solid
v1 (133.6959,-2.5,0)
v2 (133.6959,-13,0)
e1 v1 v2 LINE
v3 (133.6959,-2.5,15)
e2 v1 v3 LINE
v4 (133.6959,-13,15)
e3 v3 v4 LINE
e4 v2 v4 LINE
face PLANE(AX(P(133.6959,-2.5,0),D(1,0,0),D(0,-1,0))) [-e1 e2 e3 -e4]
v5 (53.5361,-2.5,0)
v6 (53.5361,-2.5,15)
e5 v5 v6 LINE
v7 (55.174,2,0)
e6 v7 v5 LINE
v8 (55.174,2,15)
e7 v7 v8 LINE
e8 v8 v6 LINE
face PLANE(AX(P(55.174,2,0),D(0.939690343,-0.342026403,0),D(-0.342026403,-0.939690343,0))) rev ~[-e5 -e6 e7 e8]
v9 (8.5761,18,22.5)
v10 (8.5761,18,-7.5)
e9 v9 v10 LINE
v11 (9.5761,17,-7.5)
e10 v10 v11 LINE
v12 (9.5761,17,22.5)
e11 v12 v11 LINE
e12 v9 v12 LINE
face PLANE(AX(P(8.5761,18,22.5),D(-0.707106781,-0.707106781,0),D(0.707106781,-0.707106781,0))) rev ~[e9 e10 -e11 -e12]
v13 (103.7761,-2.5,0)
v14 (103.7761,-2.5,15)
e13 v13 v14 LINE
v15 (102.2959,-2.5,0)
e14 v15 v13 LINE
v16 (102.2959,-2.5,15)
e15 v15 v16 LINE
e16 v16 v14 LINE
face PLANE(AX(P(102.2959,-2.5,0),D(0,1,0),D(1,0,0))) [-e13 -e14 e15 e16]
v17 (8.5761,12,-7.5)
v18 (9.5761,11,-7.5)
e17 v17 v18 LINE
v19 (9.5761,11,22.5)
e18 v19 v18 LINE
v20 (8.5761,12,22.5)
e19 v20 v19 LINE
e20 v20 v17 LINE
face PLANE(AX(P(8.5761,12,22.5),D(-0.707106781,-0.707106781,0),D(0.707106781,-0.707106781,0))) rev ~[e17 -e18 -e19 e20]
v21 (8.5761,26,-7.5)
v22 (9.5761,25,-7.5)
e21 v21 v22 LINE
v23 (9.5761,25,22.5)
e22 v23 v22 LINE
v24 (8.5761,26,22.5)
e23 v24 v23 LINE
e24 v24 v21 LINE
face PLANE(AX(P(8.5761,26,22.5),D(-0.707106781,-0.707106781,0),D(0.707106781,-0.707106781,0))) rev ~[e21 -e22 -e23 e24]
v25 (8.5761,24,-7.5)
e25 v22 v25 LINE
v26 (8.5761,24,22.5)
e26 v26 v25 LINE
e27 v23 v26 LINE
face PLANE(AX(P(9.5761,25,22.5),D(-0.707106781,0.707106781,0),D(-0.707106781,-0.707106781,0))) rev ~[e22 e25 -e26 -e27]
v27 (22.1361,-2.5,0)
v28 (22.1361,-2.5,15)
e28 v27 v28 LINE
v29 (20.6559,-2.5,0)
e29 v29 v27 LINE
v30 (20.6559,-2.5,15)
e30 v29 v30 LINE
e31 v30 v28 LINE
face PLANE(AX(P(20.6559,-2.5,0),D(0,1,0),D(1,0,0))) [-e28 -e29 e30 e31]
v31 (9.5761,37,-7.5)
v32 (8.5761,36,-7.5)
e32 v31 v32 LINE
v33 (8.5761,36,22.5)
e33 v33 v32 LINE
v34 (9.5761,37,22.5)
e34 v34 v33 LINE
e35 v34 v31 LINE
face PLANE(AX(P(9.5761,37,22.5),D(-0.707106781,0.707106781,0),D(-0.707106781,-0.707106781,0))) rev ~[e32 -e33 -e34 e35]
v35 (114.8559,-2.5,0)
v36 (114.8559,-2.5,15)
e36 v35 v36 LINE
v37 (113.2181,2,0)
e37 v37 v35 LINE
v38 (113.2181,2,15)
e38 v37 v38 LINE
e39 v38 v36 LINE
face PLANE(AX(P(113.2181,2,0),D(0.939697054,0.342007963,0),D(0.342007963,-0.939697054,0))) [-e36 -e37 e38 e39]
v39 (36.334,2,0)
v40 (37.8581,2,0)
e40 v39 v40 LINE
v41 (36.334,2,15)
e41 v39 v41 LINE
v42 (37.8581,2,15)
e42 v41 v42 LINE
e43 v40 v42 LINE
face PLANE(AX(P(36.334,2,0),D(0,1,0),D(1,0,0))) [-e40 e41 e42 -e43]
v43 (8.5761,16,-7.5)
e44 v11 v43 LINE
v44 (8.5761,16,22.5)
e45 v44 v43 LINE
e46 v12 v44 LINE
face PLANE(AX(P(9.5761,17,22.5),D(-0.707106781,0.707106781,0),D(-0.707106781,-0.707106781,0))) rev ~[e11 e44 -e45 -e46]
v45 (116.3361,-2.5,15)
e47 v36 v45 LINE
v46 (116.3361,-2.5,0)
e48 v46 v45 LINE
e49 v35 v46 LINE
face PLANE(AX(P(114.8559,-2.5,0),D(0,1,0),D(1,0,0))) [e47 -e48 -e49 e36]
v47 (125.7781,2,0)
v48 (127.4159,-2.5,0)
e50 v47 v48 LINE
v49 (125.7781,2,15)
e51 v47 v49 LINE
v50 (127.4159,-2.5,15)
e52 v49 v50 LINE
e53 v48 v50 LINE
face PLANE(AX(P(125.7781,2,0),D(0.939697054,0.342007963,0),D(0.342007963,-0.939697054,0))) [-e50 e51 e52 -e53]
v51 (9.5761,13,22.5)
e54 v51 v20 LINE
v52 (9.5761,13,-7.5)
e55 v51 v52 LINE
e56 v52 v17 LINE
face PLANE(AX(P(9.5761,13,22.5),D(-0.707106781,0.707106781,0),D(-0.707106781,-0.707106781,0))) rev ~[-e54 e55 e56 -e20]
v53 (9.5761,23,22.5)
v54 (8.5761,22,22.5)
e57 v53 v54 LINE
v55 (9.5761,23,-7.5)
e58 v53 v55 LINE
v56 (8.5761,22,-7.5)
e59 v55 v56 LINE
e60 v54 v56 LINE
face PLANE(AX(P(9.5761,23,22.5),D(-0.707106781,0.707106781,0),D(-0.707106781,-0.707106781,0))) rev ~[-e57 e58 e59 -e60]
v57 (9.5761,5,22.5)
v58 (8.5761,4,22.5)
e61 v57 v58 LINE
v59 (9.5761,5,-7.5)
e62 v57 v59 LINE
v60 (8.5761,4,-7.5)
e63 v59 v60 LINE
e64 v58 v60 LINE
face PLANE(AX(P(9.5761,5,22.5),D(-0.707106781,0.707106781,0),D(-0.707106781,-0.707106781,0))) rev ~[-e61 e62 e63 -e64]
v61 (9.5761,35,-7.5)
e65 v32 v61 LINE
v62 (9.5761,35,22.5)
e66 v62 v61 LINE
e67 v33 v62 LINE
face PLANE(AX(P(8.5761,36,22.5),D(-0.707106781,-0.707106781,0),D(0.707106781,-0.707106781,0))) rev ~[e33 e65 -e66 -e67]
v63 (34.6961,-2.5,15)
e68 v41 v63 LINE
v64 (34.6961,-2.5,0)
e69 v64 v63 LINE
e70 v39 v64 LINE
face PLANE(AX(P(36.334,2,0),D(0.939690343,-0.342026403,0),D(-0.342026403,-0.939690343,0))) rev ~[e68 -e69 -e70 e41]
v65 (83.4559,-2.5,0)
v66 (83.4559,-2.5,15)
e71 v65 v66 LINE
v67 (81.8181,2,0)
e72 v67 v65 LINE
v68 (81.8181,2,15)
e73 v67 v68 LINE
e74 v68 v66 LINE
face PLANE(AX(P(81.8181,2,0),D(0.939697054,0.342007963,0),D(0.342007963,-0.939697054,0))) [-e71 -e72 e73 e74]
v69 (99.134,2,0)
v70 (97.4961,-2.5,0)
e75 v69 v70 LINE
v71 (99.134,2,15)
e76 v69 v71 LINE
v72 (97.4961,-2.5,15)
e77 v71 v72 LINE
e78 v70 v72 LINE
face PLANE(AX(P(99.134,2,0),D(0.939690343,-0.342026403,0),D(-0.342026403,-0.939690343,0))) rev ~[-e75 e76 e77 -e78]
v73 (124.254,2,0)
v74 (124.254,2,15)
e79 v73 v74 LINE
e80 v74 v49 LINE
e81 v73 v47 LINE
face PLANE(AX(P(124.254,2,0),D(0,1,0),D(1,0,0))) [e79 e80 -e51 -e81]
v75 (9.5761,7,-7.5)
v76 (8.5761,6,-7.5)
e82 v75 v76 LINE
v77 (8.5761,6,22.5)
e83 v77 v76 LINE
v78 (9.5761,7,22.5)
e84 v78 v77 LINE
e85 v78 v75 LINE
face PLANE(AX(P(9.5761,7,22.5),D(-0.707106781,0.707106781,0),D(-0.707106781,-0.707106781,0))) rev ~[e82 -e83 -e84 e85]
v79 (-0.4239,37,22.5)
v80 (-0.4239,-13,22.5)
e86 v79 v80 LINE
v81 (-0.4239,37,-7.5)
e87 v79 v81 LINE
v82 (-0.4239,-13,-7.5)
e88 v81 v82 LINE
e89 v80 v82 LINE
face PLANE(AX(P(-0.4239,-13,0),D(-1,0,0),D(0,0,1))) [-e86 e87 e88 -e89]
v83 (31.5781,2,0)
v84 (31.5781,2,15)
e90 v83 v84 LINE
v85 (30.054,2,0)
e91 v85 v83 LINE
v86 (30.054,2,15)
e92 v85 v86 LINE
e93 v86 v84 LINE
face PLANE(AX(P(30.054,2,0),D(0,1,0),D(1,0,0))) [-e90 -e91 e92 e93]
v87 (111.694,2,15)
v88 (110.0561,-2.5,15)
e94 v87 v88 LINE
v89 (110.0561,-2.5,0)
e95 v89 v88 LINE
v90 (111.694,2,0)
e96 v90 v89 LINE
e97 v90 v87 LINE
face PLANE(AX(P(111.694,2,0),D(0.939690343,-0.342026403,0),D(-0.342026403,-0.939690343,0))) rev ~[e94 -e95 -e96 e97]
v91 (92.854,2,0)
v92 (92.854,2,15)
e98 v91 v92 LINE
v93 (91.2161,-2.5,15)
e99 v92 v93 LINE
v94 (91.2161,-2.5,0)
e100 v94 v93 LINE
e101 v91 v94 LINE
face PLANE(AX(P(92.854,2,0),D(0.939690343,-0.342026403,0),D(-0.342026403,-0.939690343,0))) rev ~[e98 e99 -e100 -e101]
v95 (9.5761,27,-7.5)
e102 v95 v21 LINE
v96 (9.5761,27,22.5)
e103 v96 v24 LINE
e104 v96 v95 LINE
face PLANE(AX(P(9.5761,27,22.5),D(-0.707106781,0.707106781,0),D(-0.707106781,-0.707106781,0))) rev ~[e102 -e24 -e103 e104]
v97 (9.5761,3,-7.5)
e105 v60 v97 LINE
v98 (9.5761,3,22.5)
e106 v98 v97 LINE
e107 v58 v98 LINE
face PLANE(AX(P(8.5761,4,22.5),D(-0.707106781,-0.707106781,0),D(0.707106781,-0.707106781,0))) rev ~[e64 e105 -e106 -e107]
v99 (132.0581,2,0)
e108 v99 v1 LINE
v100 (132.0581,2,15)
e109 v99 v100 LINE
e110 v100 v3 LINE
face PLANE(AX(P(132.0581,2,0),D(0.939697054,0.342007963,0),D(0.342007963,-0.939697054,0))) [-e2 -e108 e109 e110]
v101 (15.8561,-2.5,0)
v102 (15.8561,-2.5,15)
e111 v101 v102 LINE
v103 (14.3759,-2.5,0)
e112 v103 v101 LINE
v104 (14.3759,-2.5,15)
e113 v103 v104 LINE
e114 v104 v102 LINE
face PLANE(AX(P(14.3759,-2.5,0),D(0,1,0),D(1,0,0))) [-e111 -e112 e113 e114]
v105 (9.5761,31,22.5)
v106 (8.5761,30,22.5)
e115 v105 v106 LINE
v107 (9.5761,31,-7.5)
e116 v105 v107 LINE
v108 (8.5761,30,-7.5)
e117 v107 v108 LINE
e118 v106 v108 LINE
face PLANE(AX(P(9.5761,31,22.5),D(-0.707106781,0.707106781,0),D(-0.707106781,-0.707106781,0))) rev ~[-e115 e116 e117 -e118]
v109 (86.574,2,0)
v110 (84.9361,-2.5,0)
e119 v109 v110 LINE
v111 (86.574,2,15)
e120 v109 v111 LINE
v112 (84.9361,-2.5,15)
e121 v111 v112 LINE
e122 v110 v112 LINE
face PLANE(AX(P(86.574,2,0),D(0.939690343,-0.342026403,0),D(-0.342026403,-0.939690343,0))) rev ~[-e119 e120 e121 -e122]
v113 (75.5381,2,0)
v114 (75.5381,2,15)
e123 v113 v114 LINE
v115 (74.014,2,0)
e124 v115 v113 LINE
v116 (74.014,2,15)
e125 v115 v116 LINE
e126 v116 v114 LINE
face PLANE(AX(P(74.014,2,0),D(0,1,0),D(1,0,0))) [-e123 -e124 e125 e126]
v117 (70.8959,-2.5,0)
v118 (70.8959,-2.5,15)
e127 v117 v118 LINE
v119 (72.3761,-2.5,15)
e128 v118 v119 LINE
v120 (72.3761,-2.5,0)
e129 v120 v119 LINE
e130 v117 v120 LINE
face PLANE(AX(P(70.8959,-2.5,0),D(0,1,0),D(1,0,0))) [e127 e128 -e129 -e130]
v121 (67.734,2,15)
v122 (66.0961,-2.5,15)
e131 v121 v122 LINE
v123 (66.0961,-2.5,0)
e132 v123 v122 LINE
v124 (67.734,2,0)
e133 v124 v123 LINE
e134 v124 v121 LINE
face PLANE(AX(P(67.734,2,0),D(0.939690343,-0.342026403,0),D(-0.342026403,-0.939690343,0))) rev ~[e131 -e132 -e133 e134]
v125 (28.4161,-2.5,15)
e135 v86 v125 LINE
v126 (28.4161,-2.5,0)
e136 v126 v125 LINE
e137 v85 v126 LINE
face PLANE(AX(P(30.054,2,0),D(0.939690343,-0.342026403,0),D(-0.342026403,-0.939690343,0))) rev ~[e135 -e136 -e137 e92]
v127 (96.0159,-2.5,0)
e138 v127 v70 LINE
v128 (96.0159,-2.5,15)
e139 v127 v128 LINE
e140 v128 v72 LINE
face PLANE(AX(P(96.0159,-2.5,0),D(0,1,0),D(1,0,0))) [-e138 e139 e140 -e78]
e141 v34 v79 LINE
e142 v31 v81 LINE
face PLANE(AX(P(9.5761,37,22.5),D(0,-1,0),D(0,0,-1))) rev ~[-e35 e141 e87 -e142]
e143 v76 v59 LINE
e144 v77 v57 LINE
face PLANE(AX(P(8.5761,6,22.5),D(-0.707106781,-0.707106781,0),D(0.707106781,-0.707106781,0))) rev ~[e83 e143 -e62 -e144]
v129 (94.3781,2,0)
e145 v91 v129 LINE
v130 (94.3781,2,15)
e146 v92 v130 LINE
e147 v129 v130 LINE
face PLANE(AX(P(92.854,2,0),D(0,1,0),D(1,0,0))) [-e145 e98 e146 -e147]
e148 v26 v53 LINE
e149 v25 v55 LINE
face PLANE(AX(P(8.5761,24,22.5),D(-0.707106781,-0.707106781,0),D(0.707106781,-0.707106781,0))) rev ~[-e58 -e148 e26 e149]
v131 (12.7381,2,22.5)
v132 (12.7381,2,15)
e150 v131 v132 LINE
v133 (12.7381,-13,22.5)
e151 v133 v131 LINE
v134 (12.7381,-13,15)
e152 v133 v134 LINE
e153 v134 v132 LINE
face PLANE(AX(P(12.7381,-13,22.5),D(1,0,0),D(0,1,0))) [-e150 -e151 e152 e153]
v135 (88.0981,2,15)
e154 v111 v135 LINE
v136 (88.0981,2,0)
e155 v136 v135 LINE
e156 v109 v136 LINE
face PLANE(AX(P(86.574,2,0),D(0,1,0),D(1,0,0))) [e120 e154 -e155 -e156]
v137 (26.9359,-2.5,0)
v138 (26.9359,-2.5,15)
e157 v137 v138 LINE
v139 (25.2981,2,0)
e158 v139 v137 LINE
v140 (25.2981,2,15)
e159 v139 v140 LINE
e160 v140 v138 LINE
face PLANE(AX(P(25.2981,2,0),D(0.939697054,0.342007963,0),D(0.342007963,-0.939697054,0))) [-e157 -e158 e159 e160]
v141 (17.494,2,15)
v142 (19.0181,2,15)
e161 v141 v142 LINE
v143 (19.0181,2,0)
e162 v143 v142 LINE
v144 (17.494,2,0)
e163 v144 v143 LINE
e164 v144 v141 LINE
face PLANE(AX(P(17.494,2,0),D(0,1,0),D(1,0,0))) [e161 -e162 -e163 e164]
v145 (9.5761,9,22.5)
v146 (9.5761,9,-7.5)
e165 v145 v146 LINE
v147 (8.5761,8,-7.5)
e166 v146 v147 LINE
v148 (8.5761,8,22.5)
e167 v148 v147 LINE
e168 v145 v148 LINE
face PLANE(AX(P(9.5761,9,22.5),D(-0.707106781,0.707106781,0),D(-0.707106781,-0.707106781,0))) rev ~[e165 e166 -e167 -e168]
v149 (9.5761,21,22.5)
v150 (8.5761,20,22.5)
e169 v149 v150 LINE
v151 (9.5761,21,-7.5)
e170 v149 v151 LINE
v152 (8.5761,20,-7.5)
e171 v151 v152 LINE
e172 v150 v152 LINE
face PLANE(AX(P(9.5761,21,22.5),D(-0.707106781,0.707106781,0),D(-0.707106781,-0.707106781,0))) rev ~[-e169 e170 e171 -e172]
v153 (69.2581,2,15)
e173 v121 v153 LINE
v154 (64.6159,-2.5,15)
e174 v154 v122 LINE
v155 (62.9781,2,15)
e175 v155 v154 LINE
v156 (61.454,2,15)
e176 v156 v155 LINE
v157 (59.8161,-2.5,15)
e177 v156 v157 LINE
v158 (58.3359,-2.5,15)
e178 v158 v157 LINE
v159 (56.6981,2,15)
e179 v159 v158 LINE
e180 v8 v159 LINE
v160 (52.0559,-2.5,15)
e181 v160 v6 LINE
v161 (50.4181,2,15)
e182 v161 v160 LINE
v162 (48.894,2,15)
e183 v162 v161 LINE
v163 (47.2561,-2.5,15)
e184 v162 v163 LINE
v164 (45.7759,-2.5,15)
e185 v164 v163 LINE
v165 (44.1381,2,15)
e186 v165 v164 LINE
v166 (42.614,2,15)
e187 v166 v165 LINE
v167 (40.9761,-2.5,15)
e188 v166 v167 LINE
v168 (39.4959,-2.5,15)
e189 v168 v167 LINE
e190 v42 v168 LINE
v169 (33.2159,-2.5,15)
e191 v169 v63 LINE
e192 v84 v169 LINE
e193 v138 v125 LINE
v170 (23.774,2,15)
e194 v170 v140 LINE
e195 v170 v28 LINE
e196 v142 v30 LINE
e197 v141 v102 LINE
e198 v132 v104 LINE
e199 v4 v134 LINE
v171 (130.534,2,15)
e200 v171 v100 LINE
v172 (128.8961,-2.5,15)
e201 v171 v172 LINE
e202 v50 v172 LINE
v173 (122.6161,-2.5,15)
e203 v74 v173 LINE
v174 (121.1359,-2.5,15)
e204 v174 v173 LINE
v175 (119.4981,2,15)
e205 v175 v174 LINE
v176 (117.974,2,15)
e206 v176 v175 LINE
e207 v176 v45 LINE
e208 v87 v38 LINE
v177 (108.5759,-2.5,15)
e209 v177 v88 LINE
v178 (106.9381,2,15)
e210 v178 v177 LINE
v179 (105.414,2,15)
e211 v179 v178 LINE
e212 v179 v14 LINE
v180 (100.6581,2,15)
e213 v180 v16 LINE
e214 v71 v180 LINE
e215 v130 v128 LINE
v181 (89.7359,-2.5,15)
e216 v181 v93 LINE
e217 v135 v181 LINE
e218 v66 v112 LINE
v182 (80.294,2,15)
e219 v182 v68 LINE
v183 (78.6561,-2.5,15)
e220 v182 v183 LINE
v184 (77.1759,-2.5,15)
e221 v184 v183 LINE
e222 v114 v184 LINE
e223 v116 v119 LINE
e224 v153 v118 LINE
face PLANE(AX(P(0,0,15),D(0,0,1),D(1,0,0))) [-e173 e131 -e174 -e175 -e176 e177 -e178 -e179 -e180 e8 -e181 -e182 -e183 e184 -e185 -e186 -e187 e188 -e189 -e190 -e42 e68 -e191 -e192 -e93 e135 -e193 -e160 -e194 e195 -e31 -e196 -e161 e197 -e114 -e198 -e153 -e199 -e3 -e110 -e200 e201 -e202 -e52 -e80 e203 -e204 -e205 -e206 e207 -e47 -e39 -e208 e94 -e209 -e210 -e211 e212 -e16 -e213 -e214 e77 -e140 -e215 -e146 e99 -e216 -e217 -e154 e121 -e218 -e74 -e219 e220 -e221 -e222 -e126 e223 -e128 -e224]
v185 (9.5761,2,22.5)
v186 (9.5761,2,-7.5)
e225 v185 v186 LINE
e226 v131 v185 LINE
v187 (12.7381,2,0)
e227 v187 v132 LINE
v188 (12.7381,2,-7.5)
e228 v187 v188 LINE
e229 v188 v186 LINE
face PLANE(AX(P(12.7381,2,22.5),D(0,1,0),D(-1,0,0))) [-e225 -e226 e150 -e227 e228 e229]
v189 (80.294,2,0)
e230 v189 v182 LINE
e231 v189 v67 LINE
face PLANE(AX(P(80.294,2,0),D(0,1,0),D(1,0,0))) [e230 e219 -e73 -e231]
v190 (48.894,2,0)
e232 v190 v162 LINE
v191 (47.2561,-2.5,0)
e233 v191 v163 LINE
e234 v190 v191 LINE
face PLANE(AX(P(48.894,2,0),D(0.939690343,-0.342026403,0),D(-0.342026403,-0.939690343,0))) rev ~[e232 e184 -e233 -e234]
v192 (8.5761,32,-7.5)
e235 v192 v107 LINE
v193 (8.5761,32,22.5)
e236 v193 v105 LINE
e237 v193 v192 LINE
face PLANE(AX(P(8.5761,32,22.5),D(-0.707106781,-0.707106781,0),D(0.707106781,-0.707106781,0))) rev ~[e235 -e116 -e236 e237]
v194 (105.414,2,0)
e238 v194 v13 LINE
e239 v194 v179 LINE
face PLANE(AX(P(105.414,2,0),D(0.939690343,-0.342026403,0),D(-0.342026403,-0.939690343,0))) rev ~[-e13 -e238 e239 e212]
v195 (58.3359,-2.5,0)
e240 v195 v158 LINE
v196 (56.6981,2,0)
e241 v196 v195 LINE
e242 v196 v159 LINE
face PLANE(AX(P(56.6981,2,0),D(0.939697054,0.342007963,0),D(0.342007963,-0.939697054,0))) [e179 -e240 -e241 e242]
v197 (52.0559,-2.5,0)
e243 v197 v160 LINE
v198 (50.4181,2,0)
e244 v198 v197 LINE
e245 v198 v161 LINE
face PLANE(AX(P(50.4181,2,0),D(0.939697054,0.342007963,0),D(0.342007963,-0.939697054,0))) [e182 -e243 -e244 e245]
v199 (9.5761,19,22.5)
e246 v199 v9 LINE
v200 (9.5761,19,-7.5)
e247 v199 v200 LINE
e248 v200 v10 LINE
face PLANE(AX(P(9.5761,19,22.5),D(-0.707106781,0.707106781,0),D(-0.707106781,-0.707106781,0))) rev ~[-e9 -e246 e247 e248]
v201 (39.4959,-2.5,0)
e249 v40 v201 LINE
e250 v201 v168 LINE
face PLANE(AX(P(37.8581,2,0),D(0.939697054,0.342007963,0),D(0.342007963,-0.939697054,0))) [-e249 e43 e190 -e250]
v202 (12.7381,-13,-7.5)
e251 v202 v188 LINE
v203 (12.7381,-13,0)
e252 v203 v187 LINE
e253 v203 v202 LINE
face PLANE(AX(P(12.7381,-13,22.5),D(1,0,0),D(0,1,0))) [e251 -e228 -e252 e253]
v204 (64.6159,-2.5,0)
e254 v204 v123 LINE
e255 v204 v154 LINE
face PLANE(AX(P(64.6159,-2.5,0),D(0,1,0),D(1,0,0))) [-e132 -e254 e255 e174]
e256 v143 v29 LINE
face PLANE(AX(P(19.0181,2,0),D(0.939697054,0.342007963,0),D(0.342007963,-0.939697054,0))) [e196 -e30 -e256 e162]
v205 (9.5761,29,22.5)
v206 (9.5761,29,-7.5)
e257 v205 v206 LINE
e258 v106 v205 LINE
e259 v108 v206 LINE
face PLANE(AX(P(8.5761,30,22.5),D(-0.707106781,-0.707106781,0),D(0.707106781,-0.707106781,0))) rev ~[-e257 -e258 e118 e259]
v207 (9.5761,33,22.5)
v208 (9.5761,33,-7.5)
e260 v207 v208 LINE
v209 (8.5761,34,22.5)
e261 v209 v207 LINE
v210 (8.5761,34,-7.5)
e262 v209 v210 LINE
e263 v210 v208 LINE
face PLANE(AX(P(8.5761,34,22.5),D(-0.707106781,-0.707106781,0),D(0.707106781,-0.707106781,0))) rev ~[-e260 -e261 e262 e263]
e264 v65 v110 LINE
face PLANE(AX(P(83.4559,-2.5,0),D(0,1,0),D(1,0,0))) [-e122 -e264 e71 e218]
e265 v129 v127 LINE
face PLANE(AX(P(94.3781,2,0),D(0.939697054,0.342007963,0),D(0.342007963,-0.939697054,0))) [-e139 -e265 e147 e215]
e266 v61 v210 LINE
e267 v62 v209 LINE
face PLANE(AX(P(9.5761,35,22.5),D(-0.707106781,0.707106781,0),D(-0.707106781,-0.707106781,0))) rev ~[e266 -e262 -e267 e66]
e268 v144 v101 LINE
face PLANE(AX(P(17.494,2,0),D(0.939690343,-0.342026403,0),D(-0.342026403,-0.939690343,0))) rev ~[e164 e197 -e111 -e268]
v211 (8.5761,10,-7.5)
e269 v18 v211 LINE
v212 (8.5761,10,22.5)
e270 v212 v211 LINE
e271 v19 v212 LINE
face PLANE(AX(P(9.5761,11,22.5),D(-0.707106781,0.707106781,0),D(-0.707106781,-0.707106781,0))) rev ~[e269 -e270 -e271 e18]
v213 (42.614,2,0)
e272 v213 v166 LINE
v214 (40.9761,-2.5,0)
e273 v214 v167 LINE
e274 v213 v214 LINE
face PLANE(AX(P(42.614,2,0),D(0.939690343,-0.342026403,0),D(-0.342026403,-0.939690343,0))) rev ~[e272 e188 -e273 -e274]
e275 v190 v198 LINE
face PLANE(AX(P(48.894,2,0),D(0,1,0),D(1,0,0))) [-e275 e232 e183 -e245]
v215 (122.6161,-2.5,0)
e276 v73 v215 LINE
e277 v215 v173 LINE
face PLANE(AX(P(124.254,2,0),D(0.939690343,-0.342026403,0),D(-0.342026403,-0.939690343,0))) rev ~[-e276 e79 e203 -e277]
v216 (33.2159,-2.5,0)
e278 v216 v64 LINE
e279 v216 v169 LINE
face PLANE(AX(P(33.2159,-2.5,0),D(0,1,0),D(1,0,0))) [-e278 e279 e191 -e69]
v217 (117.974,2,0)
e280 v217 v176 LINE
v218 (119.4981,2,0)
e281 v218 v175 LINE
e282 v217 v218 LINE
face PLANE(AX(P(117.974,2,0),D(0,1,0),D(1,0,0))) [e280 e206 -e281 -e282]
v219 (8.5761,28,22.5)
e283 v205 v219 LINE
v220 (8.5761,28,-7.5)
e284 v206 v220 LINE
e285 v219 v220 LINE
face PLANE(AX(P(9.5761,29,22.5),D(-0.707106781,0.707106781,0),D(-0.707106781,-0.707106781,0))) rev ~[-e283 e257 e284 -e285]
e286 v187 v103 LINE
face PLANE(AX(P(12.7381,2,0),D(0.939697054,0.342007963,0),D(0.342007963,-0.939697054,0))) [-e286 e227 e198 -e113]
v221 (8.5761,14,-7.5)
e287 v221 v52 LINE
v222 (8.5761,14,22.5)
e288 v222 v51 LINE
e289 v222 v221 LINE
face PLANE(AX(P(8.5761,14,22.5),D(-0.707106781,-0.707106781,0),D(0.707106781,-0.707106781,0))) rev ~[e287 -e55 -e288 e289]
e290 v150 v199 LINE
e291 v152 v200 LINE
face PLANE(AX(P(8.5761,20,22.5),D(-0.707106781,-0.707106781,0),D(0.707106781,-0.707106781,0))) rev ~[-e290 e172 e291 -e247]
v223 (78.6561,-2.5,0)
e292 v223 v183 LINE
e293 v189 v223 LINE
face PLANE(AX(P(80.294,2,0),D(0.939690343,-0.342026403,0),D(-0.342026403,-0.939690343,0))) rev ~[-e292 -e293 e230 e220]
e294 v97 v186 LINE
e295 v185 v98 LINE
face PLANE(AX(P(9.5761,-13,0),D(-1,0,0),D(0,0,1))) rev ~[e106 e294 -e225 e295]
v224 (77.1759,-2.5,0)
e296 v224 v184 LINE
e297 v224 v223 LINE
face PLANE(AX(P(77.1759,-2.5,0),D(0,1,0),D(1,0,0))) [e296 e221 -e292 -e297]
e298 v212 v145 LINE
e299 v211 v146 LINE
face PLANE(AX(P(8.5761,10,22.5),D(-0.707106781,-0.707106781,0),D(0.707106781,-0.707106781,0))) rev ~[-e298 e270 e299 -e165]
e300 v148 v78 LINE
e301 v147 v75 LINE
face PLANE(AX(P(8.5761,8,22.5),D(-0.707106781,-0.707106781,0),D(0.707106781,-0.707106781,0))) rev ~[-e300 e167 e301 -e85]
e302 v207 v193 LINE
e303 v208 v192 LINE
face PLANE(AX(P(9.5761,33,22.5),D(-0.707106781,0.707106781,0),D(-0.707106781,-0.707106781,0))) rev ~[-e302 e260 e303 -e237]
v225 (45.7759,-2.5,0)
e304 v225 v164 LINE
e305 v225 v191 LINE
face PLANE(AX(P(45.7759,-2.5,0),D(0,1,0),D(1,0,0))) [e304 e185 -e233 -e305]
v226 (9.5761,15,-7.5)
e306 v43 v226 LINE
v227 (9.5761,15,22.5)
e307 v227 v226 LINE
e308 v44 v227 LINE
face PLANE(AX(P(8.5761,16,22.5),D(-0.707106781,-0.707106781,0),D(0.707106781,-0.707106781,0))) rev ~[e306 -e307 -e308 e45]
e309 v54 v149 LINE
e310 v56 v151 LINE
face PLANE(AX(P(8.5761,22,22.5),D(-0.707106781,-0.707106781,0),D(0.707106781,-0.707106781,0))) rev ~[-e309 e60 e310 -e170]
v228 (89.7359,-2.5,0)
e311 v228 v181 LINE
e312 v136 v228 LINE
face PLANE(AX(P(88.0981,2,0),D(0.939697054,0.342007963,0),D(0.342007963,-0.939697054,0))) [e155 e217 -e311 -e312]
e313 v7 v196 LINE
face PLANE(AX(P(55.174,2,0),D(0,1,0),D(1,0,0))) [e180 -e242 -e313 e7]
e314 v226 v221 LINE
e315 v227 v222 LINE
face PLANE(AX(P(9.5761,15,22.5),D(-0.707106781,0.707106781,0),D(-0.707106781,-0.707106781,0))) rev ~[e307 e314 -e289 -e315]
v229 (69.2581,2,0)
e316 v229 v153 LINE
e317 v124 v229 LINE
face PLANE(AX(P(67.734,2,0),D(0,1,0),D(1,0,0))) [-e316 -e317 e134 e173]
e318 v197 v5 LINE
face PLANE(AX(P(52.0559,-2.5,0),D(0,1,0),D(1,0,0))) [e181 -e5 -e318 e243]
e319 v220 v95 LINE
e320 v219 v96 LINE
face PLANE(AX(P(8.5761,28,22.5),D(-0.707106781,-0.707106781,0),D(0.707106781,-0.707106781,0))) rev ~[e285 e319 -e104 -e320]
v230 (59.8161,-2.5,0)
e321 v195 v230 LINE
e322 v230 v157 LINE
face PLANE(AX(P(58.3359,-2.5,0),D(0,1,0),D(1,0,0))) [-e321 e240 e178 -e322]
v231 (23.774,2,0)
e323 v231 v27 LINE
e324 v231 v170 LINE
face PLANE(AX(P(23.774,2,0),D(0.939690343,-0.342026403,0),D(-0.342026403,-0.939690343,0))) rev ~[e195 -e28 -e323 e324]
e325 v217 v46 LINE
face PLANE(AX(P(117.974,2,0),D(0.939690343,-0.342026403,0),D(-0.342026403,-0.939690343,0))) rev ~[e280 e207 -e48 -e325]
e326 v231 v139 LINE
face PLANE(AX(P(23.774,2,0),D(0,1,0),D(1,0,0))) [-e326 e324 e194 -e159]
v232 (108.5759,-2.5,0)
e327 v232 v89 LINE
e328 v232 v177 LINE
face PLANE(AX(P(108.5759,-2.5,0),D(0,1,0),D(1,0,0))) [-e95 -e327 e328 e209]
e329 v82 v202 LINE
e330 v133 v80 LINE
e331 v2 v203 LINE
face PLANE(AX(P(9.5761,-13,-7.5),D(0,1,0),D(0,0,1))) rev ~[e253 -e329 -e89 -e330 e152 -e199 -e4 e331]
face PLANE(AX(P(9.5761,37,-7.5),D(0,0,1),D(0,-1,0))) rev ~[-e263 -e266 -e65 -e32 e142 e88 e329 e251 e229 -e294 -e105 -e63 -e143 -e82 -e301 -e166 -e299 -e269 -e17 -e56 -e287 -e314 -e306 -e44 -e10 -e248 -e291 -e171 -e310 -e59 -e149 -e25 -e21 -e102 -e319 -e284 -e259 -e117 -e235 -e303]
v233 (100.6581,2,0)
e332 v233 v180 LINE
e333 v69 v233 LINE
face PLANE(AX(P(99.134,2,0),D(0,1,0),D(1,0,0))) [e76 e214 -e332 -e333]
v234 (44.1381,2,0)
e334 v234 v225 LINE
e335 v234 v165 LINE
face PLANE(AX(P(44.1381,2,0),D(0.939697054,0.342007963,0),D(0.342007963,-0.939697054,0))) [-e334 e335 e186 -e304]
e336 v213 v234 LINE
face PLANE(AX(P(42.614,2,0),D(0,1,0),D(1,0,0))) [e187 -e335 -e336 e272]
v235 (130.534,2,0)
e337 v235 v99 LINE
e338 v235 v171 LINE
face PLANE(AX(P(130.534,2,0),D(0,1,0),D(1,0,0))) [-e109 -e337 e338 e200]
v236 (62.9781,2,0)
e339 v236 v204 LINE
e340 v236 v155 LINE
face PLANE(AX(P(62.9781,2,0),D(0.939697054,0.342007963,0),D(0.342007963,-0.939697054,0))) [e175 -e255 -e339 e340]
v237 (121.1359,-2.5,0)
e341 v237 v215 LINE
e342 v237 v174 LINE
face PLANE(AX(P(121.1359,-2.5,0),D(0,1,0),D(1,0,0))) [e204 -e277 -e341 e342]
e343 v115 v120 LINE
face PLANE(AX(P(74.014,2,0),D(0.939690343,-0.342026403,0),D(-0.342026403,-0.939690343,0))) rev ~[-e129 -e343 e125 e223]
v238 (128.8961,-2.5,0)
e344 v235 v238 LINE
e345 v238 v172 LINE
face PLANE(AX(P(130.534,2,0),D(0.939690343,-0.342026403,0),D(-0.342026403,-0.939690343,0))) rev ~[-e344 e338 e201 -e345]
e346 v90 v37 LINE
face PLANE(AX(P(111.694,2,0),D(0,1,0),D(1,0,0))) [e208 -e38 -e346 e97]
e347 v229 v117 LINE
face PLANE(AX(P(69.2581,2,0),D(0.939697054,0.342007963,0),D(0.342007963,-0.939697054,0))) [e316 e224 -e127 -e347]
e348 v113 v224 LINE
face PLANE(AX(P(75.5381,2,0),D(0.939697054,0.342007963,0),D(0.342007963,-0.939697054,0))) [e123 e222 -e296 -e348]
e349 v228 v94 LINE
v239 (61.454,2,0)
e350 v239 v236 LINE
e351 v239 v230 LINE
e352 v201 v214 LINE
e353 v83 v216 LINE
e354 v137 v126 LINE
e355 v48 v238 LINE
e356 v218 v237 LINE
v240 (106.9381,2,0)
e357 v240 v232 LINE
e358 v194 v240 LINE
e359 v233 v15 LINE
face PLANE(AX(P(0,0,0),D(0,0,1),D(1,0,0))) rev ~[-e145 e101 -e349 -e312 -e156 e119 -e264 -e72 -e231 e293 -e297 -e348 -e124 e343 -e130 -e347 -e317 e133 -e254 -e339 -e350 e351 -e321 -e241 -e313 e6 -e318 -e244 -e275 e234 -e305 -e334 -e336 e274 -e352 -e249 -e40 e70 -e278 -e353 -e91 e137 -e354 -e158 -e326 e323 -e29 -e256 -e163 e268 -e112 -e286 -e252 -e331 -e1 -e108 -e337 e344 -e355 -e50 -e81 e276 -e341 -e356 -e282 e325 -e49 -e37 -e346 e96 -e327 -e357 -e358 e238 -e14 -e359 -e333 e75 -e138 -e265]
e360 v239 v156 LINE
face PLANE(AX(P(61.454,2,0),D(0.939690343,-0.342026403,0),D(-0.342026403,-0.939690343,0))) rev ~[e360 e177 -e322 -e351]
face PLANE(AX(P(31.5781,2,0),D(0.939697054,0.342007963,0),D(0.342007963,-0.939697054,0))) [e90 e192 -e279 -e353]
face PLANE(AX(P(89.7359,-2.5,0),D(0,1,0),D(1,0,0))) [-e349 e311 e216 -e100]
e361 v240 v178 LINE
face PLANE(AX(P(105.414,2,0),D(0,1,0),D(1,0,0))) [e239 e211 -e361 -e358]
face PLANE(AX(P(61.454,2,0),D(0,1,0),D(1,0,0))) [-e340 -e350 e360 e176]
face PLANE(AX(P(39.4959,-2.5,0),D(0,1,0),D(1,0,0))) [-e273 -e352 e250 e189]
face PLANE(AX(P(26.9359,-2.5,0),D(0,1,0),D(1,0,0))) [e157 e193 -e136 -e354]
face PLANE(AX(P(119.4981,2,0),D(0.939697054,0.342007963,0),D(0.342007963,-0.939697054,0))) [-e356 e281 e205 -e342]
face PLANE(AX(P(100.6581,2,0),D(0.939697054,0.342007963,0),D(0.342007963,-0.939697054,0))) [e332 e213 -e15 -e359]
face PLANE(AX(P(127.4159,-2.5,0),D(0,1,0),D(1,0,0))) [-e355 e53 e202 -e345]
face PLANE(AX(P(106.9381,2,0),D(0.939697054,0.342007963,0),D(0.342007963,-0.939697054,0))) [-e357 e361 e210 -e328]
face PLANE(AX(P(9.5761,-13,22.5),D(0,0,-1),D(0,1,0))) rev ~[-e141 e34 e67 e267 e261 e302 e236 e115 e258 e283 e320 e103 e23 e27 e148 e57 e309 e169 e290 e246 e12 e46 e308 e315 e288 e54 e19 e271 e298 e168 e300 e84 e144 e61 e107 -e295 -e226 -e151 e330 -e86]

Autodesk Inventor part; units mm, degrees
ref_plane "YZ Plane" through (0, 0, 0) normal (1, 0, 0) x (0, 1, 0)
ref_plane "XZ Plane" through (0, 0, 0) normal (0, 1, 0) x (-1, 0, 0)
ref_plane "XY Plane" through (0, 0, 0) normal (0, 0, 1) x (1, 0, 0)
sketch "Boceto1" plane through (0, 0, 0) normal (0, 0, 1) x (1, 0, 0)
  line L0 (11.214, 2) -> (12.7381, 2)
  line L1 (9.5761, -2.5) -> (14.3759, -2.5)
  line L2 (10.486, 0) -> (7.5236, 0) construction
  line L3 (12.7381, 2) -> (14.3759, -2.5)
  line L4 (10.486, 0) -> (13.466, 0) construction
  line L5 (11.214, 2) -> (9.5761, -2.5)
  line L6 (13.466, 0) -> (10.486, 0) construction
  line L7 (17.494, 2) -> (19.0181, 2)
  line L8 (15.8561, -2.5) -> (20.6559, -2.5)
  line L9 (19.0181, 2) -> (20.6559, -2.5)
  line L10 (16.766, 0) -> (19.746, 0) construction
  line L11 (19.746, 0) -> (16.766, 0) construction
  line L12 (17.494, 2) -> (15.8561, -2.5)
  line L13 (23.774, 2) -> (25.2981, 2)
  line L14 (22.1361, -2.5) -> (26.9359, -2.5)
  line L15 (25.2981, 2) -> (26.9359, -2.5)
  line L16 (23.046, 0) -> (26.026, 0) construction
  line L17 (26.026, 0) -> (23.046, 0) construction
  line L18 (23.774, 2) -> (22.1361, -2.5)
  line L19 (30.054, 2) -> (31.5781, 2)
  line L20 (28.4161, -2.5) -> (33.2159, -2.5)
  line L21 (31.5781, 2) -> (33.2159, -2.5)
  line L22 (29.326, 0) -> (32.306, 0) construction
  line L23 (32.306, 0) -> (29.326, 0) construction
  line L24 (30.054, 2) -> (28.4161, -2.5)
  line L25 (36.334, 2) -> (37.8581, 2)
  line L26 (34.6961, -2.5) -> (39.4959, -2.5)
  line L27 (37.8581, 2) -> (39.4959, -2.5)
  line L28 (35.606, 0) -> (38.586, 0) construction
  line L29 (38.586, 0) -> (35.606, 0) construction
  line L30 (36.334, 2) -> (34.6961, -2.5)
  line L31 (42.614, 2) -> (44.1381, 2)
  line L32 (40.9761, -2.5) -> (45.7759, -2.5)
  line L33 (44.1381, 2) -> (45.7759, -2.5)
  line L34 (41.886, 0) -> (44.866, 0) construction
  line L35 (44.866, 0) -> (41.886, 0) construction
  line L36 (42.614, 2) -> (40.9761, -2.5)
  line L37 (48.894, 2) -> (50.4181, 2)
  line L38 (47.2561, -2.5) -> (52.0559, -2.5)
  line L39 (50.4181, 2) -> (52.0559, -2.5)
  line L40 (48.166, 0) -> (51.146, 0) construction
  line L41 (51.146, 0) -> (48.166, 0) construction
  line L42 (48.894, 2) -> (47.2561, -2.5)
  line L43 (55.174, 2) -> (56.6981, 2)
  line L44 (53.5361, -2.5) -> (58.3359, -2.5)
  line L45 (56.6981, 2) -> (58.3359, -2.5)
  line L46 (54.446, 0) -> (57.426, 0) construction
  line L47 (57.426, 0) -> (54.446, 0) construction
  line L48 (55.174, 2) -> (53.5361, -2.5)
  line L49 (61.454, 2) -> (62.9781, 2)
  line L50 (59.8161, -2.5) -> (64.6159, -2.5)
  line L51 (62.9781, 2) -> (64.6159, -2.5)
  line L52 (60.726, 0) -> (63.706, 0) construction
  line L53 (63.706, 0) -> (60.726, 0) construction
  line L54 (61.454, 2) -> (59.8161, -2.5)
  line L55 (67.734, 2) -> (69.2581, 2)
  line L56 (66.0961, -2.5) -> (70.8959, -2.5)
  line L57 (69.2581, 2) -> (70.8959, -2.5)
  line L58 (67.006, 0) -> (69.986, 0) construction
  line L59 (69.986, 0) -> (67.006, 0) construction
  line L60 (67.734, 2) -> (66.0961, -2.5)
  line L61 (74.014, 2) -> (75.5381, 2)
  line L62 (72.3761, -2.5) -> (77.1759, -2.5)
  line L63 (75.5381, 2) -> (77.1759, -2.5)
  line L64 (73.286, 0) -> (76.266, 0) construction
  line L65 (76.266, 0) -> (73.286, 0) construction
  line L66 (74.014, 2) -> (72.3761, -2.5)
  line L67 (80.294, 2) -> (81.8181, 2)
  line L68 (78.6561, -2.5) -> (83.4559, -2.5)
  line L69 (81.8181, 2) -> (83.4559, -2.5)
  line L70 (79.566, 0) -> (82.546, 0) construction
  line L71 (82.546, 0) -> (79.566, 0) construction
  line L72 (80.294, 2) -> (78.6561, -2.5)
  line L73 (86.574, 2) -> (88.0981, 2)
  line L74 (84.9361, -2.5) -> (89.7359, -2.5)
  line L75 (88.0981, 2) -> (89.7359, -2.5)
  line L76 (85.846, 0) -> (88.826, 0) construction
  line L77 (88.826, 0) -> (85.846, 0) construction
  line L78 (86.574, 2) -> (84.9361, -2.5)
  line L79 (92.854, 2) -> (94.3781, 2)
  line L80 (91.2161, -2.5) -> (96.0159, -2.5)
  line L81 (94.3781, 2) -> (96.0159, -2.5)
  line L82 (92.126, 0) -> (95.106, 0) construction
  line L83 (95.106, 0) -> (92.126, 0) construction
  line L84 (92.854, 2) -> (91.2161, -2.5)
  line L85 (99.134, 2) -> (100.6581, 2)
  line L86 (97.4961, -2.5) -> (102.2959, -2.5)
  line L87 (100.6581, 2) -> (102.2959, -2.5)
  line L88 (98.406, 0) -> (101.386, 0) construction
  line L89 (101.386, 0) -> (98.406, 0) construction
  line L90 (99.134, 2) -> (97.4961, -2.5)
  line L91 (105.414, 2) -> (106.9381, 2)
  line L92 (103.7761, -2.5) -> (108.5759, -2.5)
  line L93 (106.9381, 2) -> (108.5759, -2.5)
  line L94 (104.686, 0) -> (107.666, 0) construction
  line L95 (107.666, 0) -> (104.686, 0) construction
  line L96 (105.414, 2) -> (103.7761, -2.5)
  line L97 (111.694, 2) -> (113.2181, 2)
  line L98 (110.0561, -2.5) -> (114.8559, -2.5)
  line L99 (113.2181, 2) -> (114.8559, -2.5)
  line L100 (110.966, 0) -> (113.946, 0) construction
  line L101 (113.946, 0) -> (110.966, 0) construction
  line L102 (111.694, 2) -> (110.0561, -2.5)
  line L103 (117.974, 2) -> (119.4981, 2)
  line L104 (116.3361, -2.5) -> (121.1359, -2.5)
  line L105 (119.4981, 2) -> (121.1359, -2.5)
  line L106 (117.246, 0) -> (120.226, 0) construction
  line L107 (120.226, 0) -> (117.246, 0) construction
  line L108 (117.974, 2) -> (116.3361, -2.5)
  line L109 (124.254, 2) -> (125.7781, 2)
  line L110 (122.6161, -2.5) -> (127.4159, -2.5)
  line L111 (125.7781, 2) -> (127.4159, -2.5)
  line L112 (123.526, 0) -> (126.506, 0) construction
  line L113 (126.506, 0) -> (123.526, 0) construction
  line L114 (124.254, 2) -> (122.6161, -2.5)
  line L115 (130.534, 2) -> (132.0581, 2)
  line L116 (128.8961, -2.5) -> (133.6959, -2.5)
  line L117 (132.0581, 2) -> (133.6959, -2.5)
  line L118 (129.806, 0) -> (132.786, 0) construction
  line L119 (132.786, 0) -> (129.806, 0) construction
  line L120 (130.534, 2) -> (128.8961, -2.5)
  line L121 (9.5761, -2.5) -> (133.6959, -2.5)
  line L122 (133.6959, -2.5) -> (133.6959, -13)
  line L123 (133.6959, -13) -> (9.5761, -13)
  line L124 (9.5761, -13) -> (9.5761, -2.5)
  point P0 (0, 0)
  dimension "d5" = 2
  dimension "d6" = 2.5
  dimension "d7" = 70
  dimension "d8" = 2.98
  dimension "d11" = 6.28
  dimension "d18" = 10.5
extrude "Extrusión1" add sketch "Boceto1" along normal blind 15
sketch "Boceto2" plane through (9.5761, -13, 0) normal (-1, 0, 0) x (0, 0, 1)
  line L0 (0, 0) -> (15, 0) projected
  line L1 (7.5, 0) -> (22.5, 0)
  line L2 (22.5, 0) -> (22.5, 50)
  line L3 (22.5, 50) -> (-7.5, 50)
  line L4 (-7.5, 50) -> (-7.5, 0)
  line L5 (-7.5, 0) -> (7.5, 0)
  point P0 (0, 13)
  dimension "d19" = 15
  dimension "d20" = 50
  dimension "d21" = 30
extrude "Extrusión2" add sketch "Boceto2" along normal blind 10
sketch "Boceto3" plane through (9.5761, -13, 22.5) normal (0, 0, 1) x (1, 0, 0)
  line L0 (0, 0) -> (0, 50) projected
  line L1 (0, 50) -> (-10, 50) projected
  line L2 (0, 50) -> (-1, 49)
  line L3 (-1, 49) -> (0, 48)
  line L4 (0, 50) -> (0, 48)
  point P0 (-9.5761, 13)
extrude "Extrusión3" cut sketch "Boceto3" against normal through all
pattern_linear "Patrón rectangular1" count 17 spacing 2 along (0, -1, 0) of "Extrusión3"
sketch "Boceto4" plane through (-0.4239, -13, 22.5) normal (0, 0, 1) x (1, 0, 0)
  line L0 (0, 0) -> (0, 50) projected
  line L1 (14.7999, 10.5) -> (13.162, 15) projected
  line L2 (0, 0) -> (13.162, 0)
  line L3 (13.162, 0) -> (13.162, 15)
  line L4 (13.162, 15) -> (0, 15)
  line L5 (0, 15) -> (0, 0)
  point P0 (0.4239, 13)
  point P1 (0, 15)
extrude "Extrusión4" add sketch "Boceto4" against normal blind 30
properties part number "cremallera"
